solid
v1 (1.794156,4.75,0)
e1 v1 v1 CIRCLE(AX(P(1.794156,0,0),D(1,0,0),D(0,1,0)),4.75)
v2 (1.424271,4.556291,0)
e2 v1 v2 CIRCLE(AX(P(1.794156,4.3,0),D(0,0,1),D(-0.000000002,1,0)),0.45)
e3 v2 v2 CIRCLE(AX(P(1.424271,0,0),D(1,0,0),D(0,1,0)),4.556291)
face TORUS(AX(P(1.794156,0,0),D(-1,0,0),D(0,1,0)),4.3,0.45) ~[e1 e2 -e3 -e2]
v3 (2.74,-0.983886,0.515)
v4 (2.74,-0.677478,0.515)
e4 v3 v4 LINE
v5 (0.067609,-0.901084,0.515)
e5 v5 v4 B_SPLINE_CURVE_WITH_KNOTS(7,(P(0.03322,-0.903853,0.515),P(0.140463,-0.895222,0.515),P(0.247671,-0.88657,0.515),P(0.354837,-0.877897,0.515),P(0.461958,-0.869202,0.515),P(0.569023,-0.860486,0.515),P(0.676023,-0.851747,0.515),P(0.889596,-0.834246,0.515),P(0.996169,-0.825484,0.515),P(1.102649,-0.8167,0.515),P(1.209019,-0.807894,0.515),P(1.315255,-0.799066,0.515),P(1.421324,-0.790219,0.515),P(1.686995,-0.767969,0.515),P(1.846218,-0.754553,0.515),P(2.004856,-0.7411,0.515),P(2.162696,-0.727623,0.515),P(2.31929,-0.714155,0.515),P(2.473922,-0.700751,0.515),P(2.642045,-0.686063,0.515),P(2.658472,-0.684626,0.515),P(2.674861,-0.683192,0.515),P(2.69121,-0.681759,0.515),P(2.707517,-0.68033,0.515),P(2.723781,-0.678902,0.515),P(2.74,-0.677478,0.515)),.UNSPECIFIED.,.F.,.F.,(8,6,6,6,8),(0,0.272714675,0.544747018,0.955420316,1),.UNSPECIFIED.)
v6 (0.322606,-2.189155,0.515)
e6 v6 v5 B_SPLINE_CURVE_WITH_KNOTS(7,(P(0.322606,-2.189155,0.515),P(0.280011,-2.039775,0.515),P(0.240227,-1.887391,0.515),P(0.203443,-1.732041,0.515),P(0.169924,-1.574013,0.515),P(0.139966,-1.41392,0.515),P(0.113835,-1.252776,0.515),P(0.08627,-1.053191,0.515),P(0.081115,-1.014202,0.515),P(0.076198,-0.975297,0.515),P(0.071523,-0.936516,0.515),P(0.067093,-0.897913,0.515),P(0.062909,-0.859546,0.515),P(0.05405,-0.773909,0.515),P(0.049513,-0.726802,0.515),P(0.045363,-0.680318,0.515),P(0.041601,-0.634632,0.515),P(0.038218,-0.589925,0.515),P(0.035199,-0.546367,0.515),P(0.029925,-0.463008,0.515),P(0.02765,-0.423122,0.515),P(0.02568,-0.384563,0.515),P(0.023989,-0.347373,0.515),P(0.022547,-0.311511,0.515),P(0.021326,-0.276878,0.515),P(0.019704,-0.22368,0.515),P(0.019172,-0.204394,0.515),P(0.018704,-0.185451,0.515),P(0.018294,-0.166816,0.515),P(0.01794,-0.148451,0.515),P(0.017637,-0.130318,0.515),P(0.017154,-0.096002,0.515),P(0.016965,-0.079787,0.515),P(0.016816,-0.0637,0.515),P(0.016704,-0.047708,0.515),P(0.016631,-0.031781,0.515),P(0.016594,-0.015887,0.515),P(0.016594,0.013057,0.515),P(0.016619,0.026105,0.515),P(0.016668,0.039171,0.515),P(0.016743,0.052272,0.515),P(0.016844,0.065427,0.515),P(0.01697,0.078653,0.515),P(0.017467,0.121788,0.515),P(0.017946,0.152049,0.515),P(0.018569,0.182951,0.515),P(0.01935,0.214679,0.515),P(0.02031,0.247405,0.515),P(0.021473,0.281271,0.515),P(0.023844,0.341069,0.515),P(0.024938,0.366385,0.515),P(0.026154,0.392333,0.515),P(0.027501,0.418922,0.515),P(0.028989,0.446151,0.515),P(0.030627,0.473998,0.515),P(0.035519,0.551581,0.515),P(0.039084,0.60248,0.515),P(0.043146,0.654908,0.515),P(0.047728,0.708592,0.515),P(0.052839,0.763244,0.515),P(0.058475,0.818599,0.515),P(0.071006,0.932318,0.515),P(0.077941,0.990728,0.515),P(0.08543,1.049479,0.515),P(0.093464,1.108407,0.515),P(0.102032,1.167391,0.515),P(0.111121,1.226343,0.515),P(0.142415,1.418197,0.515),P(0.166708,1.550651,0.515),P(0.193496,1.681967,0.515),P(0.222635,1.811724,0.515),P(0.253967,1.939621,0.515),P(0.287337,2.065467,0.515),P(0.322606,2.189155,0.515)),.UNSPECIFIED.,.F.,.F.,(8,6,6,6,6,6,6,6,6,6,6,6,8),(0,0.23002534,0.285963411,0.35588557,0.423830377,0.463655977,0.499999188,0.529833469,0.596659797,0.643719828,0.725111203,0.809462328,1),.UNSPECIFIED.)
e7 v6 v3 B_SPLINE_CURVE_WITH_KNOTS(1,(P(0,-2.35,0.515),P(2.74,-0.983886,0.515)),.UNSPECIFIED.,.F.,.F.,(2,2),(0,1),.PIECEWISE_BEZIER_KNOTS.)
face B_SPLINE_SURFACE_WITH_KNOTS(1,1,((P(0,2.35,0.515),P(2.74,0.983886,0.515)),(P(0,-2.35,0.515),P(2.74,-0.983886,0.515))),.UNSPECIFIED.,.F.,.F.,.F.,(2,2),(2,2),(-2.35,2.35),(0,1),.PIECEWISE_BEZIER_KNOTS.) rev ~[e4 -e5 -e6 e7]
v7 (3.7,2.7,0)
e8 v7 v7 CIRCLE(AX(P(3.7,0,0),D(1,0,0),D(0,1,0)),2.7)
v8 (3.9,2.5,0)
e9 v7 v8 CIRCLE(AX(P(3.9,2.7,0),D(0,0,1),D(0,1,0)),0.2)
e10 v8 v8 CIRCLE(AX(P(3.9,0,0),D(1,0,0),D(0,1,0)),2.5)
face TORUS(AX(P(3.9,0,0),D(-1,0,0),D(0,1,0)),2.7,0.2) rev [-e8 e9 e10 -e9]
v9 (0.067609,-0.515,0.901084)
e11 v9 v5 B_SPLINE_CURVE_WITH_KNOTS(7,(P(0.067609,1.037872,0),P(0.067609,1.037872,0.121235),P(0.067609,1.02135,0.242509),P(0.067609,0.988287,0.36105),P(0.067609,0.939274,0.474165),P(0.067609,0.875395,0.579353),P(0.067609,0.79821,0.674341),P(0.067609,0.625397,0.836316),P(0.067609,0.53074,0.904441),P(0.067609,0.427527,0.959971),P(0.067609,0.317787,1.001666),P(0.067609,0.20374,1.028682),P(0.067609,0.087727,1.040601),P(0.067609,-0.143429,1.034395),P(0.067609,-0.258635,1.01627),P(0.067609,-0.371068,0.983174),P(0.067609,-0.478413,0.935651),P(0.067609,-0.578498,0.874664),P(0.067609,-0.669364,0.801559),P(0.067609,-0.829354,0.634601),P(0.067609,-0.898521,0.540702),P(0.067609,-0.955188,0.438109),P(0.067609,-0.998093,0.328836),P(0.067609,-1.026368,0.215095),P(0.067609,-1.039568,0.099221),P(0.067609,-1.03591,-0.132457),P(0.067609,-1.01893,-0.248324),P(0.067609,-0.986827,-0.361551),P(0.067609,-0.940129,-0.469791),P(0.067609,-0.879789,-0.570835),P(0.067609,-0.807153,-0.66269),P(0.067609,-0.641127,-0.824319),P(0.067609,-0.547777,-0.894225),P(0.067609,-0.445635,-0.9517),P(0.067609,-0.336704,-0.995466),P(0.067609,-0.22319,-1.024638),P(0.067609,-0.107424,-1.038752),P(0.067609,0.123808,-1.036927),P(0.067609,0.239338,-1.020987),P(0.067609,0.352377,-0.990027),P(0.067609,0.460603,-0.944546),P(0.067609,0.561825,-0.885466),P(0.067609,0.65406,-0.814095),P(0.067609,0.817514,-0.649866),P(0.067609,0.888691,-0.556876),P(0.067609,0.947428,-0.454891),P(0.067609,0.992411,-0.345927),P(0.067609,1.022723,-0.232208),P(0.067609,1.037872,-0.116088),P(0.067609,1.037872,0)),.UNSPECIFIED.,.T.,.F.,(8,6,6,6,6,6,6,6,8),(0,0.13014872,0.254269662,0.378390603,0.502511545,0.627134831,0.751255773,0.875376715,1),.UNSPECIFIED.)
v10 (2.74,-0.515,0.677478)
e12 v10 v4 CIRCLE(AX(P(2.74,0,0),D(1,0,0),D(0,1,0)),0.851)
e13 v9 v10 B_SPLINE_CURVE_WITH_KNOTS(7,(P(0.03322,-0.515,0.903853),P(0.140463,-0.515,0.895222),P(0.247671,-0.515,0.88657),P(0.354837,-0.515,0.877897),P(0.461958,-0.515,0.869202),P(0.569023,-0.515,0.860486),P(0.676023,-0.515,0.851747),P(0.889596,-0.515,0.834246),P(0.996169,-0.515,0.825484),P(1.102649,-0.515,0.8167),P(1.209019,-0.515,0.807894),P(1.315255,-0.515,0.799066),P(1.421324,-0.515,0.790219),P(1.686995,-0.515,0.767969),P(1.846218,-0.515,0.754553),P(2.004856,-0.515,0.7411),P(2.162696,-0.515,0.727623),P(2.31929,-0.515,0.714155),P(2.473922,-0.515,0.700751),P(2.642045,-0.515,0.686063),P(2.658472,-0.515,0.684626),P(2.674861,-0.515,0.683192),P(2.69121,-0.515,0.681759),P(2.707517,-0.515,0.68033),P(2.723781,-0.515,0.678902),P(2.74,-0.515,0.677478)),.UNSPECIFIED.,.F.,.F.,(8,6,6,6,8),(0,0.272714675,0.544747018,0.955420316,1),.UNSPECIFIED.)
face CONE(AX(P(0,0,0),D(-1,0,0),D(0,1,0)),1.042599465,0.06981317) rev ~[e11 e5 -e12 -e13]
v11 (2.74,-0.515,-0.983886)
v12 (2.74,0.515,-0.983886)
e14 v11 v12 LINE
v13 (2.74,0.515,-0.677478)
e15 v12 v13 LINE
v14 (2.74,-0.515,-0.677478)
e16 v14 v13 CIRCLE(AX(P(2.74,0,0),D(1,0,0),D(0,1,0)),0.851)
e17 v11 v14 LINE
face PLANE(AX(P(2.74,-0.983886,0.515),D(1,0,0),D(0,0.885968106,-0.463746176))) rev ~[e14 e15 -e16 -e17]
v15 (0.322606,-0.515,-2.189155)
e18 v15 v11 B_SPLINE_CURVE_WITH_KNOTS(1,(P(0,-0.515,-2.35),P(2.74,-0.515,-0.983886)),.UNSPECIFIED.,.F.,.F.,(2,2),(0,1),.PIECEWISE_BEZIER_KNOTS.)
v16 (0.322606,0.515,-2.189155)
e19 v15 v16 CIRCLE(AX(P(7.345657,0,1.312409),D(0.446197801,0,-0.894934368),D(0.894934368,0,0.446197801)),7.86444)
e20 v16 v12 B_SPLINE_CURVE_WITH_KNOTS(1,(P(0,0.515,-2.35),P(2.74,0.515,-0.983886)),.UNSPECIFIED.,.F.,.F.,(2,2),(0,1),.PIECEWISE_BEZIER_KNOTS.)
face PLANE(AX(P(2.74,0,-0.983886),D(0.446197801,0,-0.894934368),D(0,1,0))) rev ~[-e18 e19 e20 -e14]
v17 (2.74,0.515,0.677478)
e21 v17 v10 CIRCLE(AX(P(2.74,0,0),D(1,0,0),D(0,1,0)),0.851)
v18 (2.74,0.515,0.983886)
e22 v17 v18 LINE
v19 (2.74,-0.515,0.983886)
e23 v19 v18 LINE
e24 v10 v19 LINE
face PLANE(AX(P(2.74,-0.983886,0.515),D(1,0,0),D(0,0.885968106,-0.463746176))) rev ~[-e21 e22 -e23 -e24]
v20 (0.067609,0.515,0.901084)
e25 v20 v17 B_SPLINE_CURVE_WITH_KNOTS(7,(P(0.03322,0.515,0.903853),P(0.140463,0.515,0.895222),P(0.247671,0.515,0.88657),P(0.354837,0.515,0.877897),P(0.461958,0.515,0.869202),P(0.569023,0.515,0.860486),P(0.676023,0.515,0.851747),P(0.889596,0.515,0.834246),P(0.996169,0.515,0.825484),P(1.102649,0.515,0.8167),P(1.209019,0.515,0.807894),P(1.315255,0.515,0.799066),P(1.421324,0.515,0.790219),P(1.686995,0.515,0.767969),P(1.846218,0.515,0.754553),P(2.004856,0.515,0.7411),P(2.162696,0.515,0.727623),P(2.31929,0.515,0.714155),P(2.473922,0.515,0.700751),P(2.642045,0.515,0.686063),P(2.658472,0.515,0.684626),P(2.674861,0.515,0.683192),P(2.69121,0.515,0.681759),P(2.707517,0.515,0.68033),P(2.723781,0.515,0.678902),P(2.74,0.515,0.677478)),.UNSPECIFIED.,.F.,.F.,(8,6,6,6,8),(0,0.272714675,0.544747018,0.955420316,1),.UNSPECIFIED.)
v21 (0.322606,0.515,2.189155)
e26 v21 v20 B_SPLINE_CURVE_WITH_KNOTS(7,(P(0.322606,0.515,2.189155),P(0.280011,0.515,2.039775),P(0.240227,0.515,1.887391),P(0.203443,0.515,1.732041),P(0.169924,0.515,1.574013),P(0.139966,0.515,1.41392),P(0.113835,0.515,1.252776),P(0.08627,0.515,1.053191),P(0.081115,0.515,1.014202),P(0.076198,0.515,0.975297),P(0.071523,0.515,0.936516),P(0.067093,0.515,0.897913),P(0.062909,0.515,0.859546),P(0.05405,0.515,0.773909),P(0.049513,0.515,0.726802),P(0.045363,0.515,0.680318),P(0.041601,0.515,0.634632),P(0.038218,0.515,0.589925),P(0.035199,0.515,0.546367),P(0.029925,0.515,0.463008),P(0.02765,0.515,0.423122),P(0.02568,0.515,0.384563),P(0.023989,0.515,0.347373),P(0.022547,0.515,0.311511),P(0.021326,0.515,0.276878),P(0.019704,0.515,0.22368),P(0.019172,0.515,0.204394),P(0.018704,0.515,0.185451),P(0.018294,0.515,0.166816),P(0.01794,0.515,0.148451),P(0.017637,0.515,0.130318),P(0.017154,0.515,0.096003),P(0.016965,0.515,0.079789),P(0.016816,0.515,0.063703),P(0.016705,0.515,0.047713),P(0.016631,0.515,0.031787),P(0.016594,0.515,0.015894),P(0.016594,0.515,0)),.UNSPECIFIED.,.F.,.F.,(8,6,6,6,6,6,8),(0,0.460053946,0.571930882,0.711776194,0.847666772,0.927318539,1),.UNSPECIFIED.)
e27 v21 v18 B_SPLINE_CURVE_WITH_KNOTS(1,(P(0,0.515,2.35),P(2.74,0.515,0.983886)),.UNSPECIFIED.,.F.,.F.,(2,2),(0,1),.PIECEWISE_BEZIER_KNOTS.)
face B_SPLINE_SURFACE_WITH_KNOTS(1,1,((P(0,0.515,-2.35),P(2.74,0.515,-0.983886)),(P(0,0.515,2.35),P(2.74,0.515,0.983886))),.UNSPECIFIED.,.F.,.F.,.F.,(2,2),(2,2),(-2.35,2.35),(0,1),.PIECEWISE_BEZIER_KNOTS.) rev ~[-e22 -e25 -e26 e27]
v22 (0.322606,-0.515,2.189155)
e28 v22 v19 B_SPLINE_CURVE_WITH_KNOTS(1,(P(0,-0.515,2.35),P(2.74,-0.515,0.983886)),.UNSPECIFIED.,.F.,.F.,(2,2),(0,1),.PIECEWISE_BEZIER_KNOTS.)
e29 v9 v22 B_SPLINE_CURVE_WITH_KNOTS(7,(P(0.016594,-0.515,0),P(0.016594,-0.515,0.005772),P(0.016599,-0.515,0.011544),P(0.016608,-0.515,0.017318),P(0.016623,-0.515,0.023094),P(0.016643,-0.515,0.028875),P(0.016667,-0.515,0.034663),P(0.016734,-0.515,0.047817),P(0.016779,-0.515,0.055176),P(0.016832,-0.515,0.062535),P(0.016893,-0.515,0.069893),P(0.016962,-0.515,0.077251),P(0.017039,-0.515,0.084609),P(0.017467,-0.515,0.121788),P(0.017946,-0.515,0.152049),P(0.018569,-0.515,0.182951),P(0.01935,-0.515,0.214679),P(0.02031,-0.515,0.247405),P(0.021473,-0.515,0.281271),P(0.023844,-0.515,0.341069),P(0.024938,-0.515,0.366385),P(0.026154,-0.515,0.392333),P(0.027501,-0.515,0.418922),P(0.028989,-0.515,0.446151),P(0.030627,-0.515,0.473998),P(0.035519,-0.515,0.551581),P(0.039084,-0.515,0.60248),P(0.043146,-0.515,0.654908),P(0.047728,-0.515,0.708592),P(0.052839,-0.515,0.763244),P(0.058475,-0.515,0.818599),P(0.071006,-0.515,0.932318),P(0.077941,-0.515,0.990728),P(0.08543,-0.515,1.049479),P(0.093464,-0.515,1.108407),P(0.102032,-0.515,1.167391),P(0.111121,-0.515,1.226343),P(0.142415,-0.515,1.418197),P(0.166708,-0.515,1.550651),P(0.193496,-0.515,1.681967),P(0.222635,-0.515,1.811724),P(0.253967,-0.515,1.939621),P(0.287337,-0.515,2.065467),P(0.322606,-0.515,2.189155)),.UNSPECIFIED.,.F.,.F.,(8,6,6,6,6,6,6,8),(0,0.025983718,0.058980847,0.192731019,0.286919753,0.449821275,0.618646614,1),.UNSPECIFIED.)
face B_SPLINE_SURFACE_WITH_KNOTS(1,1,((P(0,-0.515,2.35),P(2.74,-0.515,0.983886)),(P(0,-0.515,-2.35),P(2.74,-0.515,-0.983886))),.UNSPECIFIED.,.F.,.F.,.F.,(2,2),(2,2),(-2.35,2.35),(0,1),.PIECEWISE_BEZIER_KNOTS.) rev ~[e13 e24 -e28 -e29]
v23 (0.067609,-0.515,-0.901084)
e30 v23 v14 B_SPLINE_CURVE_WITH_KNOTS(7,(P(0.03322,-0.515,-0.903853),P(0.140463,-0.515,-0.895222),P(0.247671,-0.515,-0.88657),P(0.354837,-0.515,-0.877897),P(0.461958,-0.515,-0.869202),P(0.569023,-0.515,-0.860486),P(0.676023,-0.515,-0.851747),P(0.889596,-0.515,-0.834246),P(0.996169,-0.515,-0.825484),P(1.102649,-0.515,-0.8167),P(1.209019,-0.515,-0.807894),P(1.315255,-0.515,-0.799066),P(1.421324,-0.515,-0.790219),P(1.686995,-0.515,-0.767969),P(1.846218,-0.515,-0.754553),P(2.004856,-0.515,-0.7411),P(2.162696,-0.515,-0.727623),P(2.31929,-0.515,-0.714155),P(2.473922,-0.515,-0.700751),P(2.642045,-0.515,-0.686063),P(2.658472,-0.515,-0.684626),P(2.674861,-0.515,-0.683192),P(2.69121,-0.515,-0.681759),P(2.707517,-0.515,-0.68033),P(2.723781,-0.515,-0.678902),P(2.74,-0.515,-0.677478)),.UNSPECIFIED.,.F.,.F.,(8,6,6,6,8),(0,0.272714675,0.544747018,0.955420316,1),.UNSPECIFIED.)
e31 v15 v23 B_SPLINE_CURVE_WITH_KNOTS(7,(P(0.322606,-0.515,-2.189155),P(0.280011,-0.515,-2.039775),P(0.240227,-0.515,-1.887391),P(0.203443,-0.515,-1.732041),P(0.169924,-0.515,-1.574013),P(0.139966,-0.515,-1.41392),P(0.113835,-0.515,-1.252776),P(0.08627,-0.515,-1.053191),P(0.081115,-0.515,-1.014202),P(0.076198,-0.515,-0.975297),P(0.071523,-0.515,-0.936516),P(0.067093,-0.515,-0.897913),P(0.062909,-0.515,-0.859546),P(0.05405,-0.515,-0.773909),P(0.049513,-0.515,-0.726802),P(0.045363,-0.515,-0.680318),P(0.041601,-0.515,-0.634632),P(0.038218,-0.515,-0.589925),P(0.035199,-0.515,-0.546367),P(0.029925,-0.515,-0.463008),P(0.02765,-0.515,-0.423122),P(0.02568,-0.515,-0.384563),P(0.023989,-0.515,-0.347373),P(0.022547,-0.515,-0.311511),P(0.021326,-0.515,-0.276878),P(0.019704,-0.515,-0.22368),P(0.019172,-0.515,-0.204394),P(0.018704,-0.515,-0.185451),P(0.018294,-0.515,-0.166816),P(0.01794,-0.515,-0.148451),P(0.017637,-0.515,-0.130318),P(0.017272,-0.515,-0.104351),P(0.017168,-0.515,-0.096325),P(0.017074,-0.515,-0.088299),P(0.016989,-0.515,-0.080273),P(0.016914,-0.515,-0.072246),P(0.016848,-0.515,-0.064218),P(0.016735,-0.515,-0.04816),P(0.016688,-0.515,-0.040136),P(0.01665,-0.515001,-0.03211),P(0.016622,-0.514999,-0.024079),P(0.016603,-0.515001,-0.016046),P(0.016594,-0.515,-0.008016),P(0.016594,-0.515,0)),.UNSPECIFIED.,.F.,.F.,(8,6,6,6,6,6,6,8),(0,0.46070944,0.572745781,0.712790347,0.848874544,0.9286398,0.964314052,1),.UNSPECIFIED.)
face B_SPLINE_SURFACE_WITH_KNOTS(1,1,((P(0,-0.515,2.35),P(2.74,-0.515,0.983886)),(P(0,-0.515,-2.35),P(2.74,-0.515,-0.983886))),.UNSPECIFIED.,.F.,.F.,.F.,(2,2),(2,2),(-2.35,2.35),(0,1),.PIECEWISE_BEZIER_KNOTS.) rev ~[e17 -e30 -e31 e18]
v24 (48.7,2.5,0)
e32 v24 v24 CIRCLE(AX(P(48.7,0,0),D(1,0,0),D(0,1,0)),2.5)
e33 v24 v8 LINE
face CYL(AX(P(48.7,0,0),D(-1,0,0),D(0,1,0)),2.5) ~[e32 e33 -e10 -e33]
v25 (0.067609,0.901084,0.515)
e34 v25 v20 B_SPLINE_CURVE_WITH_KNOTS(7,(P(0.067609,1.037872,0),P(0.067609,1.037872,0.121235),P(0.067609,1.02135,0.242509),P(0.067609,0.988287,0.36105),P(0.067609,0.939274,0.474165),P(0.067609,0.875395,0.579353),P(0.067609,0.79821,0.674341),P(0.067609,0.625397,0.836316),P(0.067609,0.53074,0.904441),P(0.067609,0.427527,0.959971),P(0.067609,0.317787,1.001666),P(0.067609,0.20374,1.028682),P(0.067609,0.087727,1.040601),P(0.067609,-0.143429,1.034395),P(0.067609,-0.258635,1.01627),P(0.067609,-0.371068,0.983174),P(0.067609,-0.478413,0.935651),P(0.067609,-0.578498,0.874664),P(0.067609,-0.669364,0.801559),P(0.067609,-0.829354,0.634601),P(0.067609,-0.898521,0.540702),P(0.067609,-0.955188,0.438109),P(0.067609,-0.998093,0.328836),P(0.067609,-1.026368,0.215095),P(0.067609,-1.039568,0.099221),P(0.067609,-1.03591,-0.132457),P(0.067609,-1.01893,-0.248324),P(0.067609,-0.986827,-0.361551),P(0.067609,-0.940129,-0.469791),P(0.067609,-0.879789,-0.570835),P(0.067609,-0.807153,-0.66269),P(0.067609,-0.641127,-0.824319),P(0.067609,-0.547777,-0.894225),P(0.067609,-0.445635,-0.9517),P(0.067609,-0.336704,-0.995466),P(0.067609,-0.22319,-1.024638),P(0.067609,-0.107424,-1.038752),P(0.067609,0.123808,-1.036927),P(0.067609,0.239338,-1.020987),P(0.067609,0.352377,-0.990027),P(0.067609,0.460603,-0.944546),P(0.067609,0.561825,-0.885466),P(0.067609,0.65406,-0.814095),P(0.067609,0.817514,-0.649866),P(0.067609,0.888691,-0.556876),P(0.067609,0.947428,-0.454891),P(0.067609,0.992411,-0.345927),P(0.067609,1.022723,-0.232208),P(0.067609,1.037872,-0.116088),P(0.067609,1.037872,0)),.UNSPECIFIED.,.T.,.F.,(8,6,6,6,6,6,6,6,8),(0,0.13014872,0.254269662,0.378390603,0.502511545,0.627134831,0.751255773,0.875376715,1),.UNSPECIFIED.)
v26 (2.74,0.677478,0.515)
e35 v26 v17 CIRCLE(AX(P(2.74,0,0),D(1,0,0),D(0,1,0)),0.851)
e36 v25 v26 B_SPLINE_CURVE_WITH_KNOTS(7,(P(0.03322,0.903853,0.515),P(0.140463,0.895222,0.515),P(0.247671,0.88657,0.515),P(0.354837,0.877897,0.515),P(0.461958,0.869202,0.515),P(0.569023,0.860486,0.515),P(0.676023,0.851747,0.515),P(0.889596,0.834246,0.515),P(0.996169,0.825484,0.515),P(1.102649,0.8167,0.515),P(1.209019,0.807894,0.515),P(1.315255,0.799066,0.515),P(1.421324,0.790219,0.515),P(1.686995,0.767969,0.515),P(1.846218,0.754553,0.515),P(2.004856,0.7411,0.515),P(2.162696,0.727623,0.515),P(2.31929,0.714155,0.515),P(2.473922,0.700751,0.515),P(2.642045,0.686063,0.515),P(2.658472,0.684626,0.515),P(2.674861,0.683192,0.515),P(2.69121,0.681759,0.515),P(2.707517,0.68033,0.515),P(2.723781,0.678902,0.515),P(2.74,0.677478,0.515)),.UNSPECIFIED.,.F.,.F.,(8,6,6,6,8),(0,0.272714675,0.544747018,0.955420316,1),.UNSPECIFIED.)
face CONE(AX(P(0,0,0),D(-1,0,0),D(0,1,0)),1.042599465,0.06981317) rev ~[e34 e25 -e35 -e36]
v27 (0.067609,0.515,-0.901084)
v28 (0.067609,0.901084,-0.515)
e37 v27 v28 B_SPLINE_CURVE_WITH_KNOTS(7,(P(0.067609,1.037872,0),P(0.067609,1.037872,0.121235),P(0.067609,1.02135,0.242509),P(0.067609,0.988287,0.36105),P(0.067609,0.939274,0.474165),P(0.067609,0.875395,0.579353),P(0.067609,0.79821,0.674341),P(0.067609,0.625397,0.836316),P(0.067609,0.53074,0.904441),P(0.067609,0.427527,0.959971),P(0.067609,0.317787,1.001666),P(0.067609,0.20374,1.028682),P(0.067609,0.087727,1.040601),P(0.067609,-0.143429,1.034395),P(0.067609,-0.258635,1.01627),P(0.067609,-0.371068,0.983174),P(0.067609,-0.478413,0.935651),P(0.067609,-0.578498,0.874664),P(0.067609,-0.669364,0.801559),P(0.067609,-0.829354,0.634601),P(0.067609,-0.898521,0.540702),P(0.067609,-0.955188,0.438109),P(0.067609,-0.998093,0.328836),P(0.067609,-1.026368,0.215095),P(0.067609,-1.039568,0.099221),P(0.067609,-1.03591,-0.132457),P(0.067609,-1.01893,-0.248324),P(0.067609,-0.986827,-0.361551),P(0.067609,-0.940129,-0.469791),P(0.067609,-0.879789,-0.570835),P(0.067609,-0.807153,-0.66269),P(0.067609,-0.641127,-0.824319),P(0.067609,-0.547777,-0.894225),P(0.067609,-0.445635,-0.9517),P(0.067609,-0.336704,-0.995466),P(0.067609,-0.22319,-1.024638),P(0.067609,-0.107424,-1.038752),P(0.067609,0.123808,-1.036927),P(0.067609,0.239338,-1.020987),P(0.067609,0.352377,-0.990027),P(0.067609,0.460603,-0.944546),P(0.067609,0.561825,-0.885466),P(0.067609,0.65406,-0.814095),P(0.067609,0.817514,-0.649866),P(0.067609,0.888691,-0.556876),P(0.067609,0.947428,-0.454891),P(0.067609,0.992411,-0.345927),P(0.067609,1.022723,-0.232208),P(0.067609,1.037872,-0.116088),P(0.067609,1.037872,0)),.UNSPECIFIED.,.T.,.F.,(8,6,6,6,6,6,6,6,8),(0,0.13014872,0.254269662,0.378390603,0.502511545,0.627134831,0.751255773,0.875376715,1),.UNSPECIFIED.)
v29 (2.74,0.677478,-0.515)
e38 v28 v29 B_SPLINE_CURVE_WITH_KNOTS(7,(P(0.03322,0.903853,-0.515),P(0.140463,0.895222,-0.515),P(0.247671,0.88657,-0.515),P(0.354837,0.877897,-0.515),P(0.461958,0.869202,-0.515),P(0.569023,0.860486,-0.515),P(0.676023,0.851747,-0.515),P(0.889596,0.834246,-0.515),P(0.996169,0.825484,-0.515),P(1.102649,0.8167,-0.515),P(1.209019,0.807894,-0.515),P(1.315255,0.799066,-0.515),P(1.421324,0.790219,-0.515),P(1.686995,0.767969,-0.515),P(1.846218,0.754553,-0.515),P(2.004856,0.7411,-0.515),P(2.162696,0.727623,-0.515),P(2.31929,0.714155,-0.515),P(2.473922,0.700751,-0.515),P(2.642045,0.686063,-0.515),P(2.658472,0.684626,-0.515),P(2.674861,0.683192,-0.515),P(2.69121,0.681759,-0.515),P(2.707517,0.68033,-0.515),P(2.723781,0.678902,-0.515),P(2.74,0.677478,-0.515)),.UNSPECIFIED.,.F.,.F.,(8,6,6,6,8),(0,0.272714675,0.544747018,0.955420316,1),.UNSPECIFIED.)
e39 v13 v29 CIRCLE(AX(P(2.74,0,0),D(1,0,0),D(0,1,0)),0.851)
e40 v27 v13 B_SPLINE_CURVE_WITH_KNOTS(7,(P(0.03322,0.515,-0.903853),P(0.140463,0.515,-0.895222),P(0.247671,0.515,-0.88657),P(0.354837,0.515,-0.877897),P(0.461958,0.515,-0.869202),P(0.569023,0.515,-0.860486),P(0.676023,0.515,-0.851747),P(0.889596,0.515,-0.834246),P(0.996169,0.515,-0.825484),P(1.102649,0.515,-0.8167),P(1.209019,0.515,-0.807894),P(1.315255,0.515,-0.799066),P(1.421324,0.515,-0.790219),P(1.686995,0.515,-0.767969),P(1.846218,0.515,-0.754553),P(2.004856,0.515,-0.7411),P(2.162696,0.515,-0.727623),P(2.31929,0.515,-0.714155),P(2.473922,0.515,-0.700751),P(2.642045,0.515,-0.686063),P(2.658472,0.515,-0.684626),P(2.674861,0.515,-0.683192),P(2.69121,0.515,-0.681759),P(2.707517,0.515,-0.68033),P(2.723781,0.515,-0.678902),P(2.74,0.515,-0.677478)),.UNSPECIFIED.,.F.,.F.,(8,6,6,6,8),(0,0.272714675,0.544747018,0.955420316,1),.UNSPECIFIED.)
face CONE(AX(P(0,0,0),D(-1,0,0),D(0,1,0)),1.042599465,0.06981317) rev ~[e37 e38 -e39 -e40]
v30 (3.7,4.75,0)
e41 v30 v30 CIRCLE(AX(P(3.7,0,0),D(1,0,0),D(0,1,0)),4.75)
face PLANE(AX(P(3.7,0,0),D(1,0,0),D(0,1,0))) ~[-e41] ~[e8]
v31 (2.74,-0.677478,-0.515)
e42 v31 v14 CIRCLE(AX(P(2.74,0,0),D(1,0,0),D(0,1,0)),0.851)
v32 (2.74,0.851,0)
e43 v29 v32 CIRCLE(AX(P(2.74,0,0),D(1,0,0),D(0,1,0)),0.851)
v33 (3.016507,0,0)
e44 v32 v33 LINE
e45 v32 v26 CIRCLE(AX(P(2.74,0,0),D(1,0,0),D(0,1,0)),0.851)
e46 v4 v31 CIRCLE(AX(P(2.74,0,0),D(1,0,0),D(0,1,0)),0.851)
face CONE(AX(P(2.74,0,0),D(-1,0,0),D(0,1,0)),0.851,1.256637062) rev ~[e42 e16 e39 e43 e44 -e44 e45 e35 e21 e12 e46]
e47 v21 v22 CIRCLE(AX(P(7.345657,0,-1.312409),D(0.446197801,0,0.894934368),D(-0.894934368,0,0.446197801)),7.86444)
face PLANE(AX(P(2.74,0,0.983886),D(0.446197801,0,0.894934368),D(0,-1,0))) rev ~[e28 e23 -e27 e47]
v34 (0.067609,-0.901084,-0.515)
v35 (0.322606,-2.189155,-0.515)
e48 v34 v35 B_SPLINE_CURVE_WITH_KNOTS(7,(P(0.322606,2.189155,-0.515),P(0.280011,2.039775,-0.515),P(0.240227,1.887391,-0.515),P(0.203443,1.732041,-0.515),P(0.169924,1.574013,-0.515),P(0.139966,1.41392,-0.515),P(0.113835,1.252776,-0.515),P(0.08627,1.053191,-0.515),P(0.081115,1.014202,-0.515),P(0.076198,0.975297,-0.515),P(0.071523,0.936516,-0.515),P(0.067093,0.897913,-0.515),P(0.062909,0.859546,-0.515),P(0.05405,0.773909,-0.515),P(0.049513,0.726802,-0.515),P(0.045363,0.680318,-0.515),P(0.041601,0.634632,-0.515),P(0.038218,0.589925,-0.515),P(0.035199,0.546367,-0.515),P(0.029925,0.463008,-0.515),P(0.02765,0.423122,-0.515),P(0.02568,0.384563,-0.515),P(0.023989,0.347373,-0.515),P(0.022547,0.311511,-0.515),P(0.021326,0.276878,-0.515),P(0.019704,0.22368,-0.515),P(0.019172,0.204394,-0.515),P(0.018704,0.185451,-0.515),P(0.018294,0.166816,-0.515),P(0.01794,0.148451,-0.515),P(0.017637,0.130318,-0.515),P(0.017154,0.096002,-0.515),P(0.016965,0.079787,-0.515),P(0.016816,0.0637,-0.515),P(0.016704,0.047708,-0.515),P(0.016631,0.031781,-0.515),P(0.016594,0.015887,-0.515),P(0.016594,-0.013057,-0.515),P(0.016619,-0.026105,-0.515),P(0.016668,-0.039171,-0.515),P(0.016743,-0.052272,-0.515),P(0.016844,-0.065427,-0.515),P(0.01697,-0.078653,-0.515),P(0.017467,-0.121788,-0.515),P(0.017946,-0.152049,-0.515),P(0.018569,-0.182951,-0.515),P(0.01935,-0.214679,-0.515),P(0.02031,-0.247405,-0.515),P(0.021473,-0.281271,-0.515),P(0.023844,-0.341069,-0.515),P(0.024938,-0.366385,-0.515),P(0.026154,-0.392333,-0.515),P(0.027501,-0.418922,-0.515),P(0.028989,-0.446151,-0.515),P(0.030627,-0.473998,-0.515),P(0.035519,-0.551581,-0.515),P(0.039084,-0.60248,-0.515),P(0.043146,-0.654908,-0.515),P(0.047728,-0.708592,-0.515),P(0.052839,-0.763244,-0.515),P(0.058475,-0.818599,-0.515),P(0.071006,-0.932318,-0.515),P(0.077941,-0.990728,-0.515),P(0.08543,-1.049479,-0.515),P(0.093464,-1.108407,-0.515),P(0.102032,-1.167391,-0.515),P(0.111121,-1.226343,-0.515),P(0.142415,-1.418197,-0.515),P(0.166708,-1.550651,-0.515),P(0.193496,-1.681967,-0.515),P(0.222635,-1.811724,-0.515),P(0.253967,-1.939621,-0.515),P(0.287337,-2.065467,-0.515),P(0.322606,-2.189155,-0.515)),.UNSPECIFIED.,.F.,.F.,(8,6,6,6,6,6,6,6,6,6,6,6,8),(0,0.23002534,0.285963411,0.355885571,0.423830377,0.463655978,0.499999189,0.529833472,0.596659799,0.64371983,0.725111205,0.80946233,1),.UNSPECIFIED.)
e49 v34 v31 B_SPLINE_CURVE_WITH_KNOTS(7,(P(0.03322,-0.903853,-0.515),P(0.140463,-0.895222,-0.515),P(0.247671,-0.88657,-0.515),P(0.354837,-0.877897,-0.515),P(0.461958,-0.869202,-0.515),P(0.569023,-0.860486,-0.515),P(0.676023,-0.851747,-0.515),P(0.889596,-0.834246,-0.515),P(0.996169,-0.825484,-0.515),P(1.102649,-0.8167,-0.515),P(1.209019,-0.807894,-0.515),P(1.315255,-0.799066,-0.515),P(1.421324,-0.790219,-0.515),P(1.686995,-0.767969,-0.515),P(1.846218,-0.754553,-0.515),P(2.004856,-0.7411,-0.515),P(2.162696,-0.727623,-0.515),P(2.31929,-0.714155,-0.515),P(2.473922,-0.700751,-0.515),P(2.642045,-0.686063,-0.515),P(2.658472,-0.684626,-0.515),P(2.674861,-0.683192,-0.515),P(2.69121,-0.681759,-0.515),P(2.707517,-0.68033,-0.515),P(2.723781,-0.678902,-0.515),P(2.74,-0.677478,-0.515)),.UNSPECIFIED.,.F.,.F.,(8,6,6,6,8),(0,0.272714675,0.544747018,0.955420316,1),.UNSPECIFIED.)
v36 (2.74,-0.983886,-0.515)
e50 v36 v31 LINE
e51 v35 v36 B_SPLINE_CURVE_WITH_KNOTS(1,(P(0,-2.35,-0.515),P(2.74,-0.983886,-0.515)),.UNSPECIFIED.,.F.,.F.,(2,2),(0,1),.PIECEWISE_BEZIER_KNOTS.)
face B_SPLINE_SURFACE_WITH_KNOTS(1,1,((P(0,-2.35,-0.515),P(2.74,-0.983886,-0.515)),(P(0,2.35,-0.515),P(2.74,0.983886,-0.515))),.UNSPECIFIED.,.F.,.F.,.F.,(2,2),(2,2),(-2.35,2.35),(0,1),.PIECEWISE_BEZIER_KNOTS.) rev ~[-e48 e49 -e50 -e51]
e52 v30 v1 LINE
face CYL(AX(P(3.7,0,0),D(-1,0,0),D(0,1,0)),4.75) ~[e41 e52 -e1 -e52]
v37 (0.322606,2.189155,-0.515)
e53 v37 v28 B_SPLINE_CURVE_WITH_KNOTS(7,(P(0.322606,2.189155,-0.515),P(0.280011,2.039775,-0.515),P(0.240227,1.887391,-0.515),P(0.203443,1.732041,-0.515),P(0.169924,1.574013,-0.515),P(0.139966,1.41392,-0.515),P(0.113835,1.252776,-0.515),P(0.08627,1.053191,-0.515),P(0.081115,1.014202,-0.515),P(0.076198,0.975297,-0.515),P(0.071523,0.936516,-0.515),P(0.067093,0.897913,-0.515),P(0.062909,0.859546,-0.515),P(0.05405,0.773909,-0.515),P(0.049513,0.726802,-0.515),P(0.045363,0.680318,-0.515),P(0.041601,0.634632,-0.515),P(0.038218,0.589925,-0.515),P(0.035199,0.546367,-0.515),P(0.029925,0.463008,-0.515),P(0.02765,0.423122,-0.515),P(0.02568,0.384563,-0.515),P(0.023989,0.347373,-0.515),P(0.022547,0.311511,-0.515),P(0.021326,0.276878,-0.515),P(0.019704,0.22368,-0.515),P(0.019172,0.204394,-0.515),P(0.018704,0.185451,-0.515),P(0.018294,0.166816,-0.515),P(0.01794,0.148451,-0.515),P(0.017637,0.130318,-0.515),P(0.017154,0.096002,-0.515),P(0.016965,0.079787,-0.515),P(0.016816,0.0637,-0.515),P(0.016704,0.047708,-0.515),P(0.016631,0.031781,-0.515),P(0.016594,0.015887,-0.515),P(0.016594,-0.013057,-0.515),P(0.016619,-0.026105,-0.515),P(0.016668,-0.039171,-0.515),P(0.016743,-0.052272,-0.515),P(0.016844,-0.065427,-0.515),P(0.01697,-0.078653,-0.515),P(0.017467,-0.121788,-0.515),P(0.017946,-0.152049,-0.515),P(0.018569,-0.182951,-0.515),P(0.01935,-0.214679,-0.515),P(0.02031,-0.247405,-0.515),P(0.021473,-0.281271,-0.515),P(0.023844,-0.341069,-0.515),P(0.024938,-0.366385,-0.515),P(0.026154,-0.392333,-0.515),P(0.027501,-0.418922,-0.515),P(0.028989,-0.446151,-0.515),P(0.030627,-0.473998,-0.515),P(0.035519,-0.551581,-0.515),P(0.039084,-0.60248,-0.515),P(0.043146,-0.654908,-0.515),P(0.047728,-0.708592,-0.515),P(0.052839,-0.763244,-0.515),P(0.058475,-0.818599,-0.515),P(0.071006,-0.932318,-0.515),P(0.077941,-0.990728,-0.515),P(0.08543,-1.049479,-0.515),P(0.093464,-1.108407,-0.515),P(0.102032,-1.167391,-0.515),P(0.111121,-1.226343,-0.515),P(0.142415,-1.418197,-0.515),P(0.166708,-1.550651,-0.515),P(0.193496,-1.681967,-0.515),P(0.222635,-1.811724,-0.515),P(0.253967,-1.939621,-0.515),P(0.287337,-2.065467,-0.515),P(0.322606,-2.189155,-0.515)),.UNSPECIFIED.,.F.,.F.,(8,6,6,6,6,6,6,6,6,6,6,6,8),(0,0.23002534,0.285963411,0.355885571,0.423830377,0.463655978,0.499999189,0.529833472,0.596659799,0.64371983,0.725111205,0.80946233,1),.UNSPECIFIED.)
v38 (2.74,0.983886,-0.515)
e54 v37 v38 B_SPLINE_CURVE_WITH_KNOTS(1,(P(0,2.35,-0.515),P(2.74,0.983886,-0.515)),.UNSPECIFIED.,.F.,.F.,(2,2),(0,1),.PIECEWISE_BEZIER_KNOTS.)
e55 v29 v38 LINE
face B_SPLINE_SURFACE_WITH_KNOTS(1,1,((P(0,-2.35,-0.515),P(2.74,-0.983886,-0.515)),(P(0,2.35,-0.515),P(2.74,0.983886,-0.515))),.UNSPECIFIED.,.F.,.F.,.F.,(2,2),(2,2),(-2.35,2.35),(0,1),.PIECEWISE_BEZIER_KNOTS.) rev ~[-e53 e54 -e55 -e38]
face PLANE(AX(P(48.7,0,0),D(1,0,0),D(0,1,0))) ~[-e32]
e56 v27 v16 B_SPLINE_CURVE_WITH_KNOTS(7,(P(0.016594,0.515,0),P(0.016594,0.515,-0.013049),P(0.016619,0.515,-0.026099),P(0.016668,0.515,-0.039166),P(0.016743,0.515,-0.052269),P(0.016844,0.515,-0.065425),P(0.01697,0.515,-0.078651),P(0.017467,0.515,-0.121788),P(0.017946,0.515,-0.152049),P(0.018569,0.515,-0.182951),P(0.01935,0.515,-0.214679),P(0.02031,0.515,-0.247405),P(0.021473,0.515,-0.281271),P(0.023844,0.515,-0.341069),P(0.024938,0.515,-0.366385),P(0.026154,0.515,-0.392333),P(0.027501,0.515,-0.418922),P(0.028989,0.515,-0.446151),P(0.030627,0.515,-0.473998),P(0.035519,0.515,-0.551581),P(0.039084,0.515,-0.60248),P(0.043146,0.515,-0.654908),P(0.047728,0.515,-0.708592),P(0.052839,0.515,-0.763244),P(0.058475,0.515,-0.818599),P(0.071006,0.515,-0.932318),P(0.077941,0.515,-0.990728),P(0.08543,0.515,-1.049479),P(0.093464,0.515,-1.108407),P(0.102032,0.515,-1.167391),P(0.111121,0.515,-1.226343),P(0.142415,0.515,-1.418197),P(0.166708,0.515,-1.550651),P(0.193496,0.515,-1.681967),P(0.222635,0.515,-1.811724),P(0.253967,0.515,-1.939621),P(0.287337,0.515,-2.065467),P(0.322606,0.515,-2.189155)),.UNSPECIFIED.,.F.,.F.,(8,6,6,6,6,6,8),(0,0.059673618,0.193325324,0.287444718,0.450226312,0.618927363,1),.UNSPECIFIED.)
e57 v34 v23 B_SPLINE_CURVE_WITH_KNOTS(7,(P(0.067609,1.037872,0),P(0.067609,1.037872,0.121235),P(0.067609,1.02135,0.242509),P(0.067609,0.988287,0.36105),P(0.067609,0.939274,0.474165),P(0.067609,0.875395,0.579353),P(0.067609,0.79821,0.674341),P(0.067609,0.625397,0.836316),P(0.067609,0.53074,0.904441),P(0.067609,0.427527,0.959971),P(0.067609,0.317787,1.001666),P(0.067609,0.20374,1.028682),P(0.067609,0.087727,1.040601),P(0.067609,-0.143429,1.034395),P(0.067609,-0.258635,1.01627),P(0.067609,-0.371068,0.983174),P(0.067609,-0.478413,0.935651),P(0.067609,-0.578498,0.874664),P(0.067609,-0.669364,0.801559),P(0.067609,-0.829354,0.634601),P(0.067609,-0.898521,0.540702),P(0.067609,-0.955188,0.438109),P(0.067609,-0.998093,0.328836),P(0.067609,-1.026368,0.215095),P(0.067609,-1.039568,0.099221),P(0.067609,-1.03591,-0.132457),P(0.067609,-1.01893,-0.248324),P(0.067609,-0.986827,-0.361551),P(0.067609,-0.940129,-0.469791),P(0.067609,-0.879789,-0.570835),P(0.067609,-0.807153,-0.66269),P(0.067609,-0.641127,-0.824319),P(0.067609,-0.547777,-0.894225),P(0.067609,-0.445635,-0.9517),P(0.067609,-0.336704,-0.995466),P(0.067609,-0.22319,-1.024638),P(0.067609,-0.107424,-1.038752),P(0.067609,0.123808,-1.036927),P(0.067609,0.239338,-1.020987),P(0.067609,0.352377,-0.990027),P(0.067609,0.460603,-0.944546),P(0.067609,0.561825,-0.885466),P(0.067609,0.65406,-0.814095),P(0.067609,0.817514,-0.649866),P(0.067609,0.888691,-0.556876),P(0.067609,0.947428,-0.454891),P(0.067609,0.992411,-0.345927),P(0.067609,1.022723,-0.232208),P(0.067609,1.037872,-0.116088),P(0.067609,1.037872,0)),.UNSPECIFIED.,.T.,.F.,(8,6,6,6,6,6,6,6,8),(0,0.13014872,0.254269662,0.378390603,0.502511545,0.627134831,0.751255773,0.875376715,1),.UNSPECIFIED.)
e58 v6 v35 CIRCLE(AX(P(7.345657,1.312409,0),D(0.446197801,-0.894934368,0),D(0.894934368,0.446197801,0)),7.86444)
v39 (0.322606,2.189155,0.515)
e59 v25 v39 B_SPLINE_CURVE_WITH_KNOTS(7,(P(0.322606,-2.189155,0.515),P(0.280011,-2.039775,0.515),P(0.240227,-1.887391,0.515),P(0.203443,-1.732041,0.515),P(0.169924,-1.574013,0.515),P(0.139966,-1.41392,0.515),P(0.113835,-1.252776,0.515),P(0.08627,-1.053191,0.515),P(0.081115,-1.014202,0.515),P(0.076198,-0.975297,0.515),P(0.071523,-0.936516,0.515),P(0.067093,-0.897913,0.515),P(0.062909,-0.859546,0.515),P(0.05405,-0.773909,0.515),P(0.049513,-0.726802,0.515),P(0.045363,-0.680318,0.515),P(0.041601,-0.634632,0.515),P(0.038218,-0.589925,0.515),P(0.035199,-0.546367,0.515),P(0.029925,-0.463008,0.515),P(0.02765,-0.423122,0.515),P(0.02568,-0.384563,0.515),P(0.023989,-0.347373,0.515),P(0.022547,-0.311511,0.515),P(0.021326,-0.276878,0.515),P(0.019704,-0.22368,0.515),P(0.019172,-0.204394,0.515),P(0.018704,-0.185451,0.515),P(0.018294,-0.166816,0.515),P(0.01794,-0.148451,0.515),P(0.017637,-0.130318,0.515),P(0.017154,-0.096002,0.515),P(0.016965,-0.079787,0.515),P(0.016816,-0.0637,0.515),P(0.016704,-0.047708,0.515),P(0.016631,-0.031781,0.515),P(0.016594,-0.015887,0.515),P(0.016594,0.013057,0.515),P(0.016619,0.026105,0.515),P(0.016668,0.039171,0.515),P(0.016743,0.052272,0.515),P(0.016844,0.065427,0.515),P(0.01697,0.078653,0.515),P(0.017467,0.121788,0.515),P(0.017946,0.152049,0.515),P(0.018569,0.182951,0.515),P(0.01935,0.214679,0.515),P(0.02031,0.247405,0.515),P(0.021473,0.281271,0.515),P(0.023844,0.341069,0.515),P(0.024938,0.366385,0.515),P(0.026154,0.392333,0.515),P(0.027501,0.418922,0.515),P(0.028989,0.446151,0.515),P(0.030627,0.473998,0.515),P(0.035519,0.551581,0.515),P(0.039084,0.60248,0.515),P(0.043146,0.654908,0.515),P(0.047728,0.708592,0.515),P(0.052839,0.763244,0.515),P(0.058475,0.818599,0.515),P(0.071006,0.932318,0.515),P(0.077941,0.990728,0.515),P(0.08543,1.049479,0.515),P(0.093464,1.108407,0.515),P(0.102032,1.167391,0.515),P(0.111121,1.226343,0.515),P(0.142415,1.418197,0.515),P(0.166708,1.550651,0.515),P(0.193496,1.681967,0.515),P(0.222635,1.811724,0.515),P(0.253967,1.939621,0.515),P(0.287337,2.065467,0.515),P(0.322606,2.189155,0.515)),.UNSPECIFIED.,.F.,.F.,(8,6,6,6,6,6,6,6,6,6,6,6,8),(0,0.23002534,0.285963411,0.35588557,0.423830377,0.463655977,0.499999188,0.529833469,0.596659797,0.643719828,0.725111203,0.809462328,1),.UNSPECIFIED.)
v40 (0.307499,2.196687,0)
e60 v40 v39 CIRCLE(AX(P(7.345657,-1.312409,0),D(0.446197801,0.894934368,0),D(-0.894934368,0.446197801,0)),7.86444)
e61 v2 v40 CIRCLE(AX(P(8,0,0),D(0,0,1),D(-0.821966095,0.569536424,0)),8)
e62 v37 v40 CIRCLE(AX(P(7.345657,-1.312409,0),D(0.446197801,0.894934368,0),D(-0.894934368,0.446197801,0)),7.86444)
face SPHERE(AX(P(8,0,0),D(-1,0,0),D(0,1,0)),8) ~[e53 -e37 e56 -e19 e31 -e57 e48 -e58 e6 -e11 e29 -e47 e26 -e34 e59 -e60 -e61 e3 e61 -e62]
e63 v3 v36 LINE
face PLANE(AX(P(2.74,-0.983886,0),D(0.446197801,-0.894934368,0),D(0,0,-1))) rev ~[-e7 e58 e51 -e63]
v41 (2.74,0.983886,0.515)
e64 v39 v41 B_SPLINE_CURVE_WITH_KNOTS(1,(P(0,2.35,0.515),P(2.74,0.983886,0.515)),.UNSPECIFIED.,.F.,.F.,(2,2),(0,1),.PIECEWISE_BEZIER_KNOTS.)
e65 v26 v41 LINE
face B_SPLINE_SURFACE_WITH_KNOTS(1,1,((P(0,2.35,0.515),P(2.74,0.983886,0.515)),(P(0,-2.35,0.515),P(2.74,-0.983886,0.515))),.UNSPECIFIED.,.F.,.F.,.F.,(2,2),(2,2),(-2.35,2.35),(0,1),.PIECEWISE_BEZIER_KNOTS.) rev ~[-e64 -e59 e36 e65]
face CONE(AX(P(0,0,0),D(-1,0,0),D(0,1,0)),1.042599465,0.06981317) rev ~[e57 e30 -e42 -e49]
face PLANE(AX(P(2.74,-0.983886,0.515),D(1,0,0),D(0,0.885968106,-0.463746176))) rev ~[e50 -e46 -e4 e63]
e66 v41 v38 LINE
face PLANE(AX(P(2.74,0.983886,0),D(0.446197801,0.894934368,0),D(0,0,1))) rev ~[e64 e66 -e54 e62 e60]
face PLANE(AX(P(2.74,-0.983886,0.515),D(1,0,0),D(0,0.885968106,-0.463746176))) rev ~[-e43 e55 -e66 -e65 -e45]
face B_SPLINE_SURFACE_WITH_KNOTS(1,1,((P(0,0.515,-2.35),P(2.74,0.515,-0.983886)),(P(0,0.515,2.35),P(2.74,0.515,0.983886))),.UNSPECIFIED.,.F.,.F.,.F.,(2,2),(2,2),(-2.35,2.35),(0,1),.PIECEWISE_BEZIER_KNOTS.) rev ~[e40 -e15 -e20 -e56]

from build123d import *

# Parameters (mm, degrees)
FILLET1_R    = 0.2
SKETCH3_W    = 1.03
SKETCH3_H    = 4.7
SKETCH4_W    = 1.03
SKETCH4_H    = 1.967772882
RECPAT_COUNT = 2
RECPAT_ANGLE = 90


with BuildPart() as part:
    # BodySke → Base-Revolve (revolve)
    with BuildSketch(Plane.XY):
        with BuildLine():
            Line((3.7, 2.5), (3.7, 4.75))
            Line((3.7, 4.75), (1.79415598, 4.75))
            ThreePointArc((1.79415598, 4.75), (1.58538712, 4.698642149), (1.424271237, 4.556291391))
            ThreePointArc((1.424271237, 4.556291391), (0.364365445, 2.386856709), (0, 0))
            Line((0, 0), (48.7, 0))
            Line((48.7, 0), (48.7, 2.5))
            Line((48.7, 2.5), (3.7, 2.5))
        make_face()
    revolve(axis=Axis((-25.4, 0, 0), (1, 0, 0)))

    # Fillet1
    fillet1_edges = [part.edges().sort_by_distance(p)[0] for p in [
        (3.7, -2.5, 0),
    ]]
    fillet(fillet1_edges, radius=FILLET1_R)

    # Sketch3 → Recess section 0
    with BuildSketch(Plane(origin=(0, 0, 0), x_dir=(0, 0, -1), z_dir=(1, 0, 0))):
        Rectangle(SKETCH3_W, SKETCH3_H)
    # Sketch4 → Recess section 1
    with BuildSketch(Plane(origin=(2.74, 0, 0), x_dir=(0, 0, -1), z_dir=(1, 0, 0))):
        Rectangle(SKETCH4_W, SKETCH4_H)
    recess = loft(mode=Mode.SUBTRACT)

    # RecPat: Recess ×2 about axis
    recpat_axis = Axis((0, 0, 0), (1, 0, 0))
    for i in range(1, RECPAT_COUNT):
        add(recess.rotate(recpat_axis, i * RECPAT_ANGLE / (RECPAT_COUNT - 1)), mode=Mode.SUBTRACT)

    # RecCorSke → RecessCore (revolve, cut)
    with BuildSketch(Plane.XY):
        Polygon((0, 0), (0, 1.042599465), (2.74, 0.851), (3.016506661, 0), align=None)
    revolve(axis=Axis((-3.175, 0, 0), (1, 0, 0)), mode=Mode.SUBTRACT)


solid = part.part
